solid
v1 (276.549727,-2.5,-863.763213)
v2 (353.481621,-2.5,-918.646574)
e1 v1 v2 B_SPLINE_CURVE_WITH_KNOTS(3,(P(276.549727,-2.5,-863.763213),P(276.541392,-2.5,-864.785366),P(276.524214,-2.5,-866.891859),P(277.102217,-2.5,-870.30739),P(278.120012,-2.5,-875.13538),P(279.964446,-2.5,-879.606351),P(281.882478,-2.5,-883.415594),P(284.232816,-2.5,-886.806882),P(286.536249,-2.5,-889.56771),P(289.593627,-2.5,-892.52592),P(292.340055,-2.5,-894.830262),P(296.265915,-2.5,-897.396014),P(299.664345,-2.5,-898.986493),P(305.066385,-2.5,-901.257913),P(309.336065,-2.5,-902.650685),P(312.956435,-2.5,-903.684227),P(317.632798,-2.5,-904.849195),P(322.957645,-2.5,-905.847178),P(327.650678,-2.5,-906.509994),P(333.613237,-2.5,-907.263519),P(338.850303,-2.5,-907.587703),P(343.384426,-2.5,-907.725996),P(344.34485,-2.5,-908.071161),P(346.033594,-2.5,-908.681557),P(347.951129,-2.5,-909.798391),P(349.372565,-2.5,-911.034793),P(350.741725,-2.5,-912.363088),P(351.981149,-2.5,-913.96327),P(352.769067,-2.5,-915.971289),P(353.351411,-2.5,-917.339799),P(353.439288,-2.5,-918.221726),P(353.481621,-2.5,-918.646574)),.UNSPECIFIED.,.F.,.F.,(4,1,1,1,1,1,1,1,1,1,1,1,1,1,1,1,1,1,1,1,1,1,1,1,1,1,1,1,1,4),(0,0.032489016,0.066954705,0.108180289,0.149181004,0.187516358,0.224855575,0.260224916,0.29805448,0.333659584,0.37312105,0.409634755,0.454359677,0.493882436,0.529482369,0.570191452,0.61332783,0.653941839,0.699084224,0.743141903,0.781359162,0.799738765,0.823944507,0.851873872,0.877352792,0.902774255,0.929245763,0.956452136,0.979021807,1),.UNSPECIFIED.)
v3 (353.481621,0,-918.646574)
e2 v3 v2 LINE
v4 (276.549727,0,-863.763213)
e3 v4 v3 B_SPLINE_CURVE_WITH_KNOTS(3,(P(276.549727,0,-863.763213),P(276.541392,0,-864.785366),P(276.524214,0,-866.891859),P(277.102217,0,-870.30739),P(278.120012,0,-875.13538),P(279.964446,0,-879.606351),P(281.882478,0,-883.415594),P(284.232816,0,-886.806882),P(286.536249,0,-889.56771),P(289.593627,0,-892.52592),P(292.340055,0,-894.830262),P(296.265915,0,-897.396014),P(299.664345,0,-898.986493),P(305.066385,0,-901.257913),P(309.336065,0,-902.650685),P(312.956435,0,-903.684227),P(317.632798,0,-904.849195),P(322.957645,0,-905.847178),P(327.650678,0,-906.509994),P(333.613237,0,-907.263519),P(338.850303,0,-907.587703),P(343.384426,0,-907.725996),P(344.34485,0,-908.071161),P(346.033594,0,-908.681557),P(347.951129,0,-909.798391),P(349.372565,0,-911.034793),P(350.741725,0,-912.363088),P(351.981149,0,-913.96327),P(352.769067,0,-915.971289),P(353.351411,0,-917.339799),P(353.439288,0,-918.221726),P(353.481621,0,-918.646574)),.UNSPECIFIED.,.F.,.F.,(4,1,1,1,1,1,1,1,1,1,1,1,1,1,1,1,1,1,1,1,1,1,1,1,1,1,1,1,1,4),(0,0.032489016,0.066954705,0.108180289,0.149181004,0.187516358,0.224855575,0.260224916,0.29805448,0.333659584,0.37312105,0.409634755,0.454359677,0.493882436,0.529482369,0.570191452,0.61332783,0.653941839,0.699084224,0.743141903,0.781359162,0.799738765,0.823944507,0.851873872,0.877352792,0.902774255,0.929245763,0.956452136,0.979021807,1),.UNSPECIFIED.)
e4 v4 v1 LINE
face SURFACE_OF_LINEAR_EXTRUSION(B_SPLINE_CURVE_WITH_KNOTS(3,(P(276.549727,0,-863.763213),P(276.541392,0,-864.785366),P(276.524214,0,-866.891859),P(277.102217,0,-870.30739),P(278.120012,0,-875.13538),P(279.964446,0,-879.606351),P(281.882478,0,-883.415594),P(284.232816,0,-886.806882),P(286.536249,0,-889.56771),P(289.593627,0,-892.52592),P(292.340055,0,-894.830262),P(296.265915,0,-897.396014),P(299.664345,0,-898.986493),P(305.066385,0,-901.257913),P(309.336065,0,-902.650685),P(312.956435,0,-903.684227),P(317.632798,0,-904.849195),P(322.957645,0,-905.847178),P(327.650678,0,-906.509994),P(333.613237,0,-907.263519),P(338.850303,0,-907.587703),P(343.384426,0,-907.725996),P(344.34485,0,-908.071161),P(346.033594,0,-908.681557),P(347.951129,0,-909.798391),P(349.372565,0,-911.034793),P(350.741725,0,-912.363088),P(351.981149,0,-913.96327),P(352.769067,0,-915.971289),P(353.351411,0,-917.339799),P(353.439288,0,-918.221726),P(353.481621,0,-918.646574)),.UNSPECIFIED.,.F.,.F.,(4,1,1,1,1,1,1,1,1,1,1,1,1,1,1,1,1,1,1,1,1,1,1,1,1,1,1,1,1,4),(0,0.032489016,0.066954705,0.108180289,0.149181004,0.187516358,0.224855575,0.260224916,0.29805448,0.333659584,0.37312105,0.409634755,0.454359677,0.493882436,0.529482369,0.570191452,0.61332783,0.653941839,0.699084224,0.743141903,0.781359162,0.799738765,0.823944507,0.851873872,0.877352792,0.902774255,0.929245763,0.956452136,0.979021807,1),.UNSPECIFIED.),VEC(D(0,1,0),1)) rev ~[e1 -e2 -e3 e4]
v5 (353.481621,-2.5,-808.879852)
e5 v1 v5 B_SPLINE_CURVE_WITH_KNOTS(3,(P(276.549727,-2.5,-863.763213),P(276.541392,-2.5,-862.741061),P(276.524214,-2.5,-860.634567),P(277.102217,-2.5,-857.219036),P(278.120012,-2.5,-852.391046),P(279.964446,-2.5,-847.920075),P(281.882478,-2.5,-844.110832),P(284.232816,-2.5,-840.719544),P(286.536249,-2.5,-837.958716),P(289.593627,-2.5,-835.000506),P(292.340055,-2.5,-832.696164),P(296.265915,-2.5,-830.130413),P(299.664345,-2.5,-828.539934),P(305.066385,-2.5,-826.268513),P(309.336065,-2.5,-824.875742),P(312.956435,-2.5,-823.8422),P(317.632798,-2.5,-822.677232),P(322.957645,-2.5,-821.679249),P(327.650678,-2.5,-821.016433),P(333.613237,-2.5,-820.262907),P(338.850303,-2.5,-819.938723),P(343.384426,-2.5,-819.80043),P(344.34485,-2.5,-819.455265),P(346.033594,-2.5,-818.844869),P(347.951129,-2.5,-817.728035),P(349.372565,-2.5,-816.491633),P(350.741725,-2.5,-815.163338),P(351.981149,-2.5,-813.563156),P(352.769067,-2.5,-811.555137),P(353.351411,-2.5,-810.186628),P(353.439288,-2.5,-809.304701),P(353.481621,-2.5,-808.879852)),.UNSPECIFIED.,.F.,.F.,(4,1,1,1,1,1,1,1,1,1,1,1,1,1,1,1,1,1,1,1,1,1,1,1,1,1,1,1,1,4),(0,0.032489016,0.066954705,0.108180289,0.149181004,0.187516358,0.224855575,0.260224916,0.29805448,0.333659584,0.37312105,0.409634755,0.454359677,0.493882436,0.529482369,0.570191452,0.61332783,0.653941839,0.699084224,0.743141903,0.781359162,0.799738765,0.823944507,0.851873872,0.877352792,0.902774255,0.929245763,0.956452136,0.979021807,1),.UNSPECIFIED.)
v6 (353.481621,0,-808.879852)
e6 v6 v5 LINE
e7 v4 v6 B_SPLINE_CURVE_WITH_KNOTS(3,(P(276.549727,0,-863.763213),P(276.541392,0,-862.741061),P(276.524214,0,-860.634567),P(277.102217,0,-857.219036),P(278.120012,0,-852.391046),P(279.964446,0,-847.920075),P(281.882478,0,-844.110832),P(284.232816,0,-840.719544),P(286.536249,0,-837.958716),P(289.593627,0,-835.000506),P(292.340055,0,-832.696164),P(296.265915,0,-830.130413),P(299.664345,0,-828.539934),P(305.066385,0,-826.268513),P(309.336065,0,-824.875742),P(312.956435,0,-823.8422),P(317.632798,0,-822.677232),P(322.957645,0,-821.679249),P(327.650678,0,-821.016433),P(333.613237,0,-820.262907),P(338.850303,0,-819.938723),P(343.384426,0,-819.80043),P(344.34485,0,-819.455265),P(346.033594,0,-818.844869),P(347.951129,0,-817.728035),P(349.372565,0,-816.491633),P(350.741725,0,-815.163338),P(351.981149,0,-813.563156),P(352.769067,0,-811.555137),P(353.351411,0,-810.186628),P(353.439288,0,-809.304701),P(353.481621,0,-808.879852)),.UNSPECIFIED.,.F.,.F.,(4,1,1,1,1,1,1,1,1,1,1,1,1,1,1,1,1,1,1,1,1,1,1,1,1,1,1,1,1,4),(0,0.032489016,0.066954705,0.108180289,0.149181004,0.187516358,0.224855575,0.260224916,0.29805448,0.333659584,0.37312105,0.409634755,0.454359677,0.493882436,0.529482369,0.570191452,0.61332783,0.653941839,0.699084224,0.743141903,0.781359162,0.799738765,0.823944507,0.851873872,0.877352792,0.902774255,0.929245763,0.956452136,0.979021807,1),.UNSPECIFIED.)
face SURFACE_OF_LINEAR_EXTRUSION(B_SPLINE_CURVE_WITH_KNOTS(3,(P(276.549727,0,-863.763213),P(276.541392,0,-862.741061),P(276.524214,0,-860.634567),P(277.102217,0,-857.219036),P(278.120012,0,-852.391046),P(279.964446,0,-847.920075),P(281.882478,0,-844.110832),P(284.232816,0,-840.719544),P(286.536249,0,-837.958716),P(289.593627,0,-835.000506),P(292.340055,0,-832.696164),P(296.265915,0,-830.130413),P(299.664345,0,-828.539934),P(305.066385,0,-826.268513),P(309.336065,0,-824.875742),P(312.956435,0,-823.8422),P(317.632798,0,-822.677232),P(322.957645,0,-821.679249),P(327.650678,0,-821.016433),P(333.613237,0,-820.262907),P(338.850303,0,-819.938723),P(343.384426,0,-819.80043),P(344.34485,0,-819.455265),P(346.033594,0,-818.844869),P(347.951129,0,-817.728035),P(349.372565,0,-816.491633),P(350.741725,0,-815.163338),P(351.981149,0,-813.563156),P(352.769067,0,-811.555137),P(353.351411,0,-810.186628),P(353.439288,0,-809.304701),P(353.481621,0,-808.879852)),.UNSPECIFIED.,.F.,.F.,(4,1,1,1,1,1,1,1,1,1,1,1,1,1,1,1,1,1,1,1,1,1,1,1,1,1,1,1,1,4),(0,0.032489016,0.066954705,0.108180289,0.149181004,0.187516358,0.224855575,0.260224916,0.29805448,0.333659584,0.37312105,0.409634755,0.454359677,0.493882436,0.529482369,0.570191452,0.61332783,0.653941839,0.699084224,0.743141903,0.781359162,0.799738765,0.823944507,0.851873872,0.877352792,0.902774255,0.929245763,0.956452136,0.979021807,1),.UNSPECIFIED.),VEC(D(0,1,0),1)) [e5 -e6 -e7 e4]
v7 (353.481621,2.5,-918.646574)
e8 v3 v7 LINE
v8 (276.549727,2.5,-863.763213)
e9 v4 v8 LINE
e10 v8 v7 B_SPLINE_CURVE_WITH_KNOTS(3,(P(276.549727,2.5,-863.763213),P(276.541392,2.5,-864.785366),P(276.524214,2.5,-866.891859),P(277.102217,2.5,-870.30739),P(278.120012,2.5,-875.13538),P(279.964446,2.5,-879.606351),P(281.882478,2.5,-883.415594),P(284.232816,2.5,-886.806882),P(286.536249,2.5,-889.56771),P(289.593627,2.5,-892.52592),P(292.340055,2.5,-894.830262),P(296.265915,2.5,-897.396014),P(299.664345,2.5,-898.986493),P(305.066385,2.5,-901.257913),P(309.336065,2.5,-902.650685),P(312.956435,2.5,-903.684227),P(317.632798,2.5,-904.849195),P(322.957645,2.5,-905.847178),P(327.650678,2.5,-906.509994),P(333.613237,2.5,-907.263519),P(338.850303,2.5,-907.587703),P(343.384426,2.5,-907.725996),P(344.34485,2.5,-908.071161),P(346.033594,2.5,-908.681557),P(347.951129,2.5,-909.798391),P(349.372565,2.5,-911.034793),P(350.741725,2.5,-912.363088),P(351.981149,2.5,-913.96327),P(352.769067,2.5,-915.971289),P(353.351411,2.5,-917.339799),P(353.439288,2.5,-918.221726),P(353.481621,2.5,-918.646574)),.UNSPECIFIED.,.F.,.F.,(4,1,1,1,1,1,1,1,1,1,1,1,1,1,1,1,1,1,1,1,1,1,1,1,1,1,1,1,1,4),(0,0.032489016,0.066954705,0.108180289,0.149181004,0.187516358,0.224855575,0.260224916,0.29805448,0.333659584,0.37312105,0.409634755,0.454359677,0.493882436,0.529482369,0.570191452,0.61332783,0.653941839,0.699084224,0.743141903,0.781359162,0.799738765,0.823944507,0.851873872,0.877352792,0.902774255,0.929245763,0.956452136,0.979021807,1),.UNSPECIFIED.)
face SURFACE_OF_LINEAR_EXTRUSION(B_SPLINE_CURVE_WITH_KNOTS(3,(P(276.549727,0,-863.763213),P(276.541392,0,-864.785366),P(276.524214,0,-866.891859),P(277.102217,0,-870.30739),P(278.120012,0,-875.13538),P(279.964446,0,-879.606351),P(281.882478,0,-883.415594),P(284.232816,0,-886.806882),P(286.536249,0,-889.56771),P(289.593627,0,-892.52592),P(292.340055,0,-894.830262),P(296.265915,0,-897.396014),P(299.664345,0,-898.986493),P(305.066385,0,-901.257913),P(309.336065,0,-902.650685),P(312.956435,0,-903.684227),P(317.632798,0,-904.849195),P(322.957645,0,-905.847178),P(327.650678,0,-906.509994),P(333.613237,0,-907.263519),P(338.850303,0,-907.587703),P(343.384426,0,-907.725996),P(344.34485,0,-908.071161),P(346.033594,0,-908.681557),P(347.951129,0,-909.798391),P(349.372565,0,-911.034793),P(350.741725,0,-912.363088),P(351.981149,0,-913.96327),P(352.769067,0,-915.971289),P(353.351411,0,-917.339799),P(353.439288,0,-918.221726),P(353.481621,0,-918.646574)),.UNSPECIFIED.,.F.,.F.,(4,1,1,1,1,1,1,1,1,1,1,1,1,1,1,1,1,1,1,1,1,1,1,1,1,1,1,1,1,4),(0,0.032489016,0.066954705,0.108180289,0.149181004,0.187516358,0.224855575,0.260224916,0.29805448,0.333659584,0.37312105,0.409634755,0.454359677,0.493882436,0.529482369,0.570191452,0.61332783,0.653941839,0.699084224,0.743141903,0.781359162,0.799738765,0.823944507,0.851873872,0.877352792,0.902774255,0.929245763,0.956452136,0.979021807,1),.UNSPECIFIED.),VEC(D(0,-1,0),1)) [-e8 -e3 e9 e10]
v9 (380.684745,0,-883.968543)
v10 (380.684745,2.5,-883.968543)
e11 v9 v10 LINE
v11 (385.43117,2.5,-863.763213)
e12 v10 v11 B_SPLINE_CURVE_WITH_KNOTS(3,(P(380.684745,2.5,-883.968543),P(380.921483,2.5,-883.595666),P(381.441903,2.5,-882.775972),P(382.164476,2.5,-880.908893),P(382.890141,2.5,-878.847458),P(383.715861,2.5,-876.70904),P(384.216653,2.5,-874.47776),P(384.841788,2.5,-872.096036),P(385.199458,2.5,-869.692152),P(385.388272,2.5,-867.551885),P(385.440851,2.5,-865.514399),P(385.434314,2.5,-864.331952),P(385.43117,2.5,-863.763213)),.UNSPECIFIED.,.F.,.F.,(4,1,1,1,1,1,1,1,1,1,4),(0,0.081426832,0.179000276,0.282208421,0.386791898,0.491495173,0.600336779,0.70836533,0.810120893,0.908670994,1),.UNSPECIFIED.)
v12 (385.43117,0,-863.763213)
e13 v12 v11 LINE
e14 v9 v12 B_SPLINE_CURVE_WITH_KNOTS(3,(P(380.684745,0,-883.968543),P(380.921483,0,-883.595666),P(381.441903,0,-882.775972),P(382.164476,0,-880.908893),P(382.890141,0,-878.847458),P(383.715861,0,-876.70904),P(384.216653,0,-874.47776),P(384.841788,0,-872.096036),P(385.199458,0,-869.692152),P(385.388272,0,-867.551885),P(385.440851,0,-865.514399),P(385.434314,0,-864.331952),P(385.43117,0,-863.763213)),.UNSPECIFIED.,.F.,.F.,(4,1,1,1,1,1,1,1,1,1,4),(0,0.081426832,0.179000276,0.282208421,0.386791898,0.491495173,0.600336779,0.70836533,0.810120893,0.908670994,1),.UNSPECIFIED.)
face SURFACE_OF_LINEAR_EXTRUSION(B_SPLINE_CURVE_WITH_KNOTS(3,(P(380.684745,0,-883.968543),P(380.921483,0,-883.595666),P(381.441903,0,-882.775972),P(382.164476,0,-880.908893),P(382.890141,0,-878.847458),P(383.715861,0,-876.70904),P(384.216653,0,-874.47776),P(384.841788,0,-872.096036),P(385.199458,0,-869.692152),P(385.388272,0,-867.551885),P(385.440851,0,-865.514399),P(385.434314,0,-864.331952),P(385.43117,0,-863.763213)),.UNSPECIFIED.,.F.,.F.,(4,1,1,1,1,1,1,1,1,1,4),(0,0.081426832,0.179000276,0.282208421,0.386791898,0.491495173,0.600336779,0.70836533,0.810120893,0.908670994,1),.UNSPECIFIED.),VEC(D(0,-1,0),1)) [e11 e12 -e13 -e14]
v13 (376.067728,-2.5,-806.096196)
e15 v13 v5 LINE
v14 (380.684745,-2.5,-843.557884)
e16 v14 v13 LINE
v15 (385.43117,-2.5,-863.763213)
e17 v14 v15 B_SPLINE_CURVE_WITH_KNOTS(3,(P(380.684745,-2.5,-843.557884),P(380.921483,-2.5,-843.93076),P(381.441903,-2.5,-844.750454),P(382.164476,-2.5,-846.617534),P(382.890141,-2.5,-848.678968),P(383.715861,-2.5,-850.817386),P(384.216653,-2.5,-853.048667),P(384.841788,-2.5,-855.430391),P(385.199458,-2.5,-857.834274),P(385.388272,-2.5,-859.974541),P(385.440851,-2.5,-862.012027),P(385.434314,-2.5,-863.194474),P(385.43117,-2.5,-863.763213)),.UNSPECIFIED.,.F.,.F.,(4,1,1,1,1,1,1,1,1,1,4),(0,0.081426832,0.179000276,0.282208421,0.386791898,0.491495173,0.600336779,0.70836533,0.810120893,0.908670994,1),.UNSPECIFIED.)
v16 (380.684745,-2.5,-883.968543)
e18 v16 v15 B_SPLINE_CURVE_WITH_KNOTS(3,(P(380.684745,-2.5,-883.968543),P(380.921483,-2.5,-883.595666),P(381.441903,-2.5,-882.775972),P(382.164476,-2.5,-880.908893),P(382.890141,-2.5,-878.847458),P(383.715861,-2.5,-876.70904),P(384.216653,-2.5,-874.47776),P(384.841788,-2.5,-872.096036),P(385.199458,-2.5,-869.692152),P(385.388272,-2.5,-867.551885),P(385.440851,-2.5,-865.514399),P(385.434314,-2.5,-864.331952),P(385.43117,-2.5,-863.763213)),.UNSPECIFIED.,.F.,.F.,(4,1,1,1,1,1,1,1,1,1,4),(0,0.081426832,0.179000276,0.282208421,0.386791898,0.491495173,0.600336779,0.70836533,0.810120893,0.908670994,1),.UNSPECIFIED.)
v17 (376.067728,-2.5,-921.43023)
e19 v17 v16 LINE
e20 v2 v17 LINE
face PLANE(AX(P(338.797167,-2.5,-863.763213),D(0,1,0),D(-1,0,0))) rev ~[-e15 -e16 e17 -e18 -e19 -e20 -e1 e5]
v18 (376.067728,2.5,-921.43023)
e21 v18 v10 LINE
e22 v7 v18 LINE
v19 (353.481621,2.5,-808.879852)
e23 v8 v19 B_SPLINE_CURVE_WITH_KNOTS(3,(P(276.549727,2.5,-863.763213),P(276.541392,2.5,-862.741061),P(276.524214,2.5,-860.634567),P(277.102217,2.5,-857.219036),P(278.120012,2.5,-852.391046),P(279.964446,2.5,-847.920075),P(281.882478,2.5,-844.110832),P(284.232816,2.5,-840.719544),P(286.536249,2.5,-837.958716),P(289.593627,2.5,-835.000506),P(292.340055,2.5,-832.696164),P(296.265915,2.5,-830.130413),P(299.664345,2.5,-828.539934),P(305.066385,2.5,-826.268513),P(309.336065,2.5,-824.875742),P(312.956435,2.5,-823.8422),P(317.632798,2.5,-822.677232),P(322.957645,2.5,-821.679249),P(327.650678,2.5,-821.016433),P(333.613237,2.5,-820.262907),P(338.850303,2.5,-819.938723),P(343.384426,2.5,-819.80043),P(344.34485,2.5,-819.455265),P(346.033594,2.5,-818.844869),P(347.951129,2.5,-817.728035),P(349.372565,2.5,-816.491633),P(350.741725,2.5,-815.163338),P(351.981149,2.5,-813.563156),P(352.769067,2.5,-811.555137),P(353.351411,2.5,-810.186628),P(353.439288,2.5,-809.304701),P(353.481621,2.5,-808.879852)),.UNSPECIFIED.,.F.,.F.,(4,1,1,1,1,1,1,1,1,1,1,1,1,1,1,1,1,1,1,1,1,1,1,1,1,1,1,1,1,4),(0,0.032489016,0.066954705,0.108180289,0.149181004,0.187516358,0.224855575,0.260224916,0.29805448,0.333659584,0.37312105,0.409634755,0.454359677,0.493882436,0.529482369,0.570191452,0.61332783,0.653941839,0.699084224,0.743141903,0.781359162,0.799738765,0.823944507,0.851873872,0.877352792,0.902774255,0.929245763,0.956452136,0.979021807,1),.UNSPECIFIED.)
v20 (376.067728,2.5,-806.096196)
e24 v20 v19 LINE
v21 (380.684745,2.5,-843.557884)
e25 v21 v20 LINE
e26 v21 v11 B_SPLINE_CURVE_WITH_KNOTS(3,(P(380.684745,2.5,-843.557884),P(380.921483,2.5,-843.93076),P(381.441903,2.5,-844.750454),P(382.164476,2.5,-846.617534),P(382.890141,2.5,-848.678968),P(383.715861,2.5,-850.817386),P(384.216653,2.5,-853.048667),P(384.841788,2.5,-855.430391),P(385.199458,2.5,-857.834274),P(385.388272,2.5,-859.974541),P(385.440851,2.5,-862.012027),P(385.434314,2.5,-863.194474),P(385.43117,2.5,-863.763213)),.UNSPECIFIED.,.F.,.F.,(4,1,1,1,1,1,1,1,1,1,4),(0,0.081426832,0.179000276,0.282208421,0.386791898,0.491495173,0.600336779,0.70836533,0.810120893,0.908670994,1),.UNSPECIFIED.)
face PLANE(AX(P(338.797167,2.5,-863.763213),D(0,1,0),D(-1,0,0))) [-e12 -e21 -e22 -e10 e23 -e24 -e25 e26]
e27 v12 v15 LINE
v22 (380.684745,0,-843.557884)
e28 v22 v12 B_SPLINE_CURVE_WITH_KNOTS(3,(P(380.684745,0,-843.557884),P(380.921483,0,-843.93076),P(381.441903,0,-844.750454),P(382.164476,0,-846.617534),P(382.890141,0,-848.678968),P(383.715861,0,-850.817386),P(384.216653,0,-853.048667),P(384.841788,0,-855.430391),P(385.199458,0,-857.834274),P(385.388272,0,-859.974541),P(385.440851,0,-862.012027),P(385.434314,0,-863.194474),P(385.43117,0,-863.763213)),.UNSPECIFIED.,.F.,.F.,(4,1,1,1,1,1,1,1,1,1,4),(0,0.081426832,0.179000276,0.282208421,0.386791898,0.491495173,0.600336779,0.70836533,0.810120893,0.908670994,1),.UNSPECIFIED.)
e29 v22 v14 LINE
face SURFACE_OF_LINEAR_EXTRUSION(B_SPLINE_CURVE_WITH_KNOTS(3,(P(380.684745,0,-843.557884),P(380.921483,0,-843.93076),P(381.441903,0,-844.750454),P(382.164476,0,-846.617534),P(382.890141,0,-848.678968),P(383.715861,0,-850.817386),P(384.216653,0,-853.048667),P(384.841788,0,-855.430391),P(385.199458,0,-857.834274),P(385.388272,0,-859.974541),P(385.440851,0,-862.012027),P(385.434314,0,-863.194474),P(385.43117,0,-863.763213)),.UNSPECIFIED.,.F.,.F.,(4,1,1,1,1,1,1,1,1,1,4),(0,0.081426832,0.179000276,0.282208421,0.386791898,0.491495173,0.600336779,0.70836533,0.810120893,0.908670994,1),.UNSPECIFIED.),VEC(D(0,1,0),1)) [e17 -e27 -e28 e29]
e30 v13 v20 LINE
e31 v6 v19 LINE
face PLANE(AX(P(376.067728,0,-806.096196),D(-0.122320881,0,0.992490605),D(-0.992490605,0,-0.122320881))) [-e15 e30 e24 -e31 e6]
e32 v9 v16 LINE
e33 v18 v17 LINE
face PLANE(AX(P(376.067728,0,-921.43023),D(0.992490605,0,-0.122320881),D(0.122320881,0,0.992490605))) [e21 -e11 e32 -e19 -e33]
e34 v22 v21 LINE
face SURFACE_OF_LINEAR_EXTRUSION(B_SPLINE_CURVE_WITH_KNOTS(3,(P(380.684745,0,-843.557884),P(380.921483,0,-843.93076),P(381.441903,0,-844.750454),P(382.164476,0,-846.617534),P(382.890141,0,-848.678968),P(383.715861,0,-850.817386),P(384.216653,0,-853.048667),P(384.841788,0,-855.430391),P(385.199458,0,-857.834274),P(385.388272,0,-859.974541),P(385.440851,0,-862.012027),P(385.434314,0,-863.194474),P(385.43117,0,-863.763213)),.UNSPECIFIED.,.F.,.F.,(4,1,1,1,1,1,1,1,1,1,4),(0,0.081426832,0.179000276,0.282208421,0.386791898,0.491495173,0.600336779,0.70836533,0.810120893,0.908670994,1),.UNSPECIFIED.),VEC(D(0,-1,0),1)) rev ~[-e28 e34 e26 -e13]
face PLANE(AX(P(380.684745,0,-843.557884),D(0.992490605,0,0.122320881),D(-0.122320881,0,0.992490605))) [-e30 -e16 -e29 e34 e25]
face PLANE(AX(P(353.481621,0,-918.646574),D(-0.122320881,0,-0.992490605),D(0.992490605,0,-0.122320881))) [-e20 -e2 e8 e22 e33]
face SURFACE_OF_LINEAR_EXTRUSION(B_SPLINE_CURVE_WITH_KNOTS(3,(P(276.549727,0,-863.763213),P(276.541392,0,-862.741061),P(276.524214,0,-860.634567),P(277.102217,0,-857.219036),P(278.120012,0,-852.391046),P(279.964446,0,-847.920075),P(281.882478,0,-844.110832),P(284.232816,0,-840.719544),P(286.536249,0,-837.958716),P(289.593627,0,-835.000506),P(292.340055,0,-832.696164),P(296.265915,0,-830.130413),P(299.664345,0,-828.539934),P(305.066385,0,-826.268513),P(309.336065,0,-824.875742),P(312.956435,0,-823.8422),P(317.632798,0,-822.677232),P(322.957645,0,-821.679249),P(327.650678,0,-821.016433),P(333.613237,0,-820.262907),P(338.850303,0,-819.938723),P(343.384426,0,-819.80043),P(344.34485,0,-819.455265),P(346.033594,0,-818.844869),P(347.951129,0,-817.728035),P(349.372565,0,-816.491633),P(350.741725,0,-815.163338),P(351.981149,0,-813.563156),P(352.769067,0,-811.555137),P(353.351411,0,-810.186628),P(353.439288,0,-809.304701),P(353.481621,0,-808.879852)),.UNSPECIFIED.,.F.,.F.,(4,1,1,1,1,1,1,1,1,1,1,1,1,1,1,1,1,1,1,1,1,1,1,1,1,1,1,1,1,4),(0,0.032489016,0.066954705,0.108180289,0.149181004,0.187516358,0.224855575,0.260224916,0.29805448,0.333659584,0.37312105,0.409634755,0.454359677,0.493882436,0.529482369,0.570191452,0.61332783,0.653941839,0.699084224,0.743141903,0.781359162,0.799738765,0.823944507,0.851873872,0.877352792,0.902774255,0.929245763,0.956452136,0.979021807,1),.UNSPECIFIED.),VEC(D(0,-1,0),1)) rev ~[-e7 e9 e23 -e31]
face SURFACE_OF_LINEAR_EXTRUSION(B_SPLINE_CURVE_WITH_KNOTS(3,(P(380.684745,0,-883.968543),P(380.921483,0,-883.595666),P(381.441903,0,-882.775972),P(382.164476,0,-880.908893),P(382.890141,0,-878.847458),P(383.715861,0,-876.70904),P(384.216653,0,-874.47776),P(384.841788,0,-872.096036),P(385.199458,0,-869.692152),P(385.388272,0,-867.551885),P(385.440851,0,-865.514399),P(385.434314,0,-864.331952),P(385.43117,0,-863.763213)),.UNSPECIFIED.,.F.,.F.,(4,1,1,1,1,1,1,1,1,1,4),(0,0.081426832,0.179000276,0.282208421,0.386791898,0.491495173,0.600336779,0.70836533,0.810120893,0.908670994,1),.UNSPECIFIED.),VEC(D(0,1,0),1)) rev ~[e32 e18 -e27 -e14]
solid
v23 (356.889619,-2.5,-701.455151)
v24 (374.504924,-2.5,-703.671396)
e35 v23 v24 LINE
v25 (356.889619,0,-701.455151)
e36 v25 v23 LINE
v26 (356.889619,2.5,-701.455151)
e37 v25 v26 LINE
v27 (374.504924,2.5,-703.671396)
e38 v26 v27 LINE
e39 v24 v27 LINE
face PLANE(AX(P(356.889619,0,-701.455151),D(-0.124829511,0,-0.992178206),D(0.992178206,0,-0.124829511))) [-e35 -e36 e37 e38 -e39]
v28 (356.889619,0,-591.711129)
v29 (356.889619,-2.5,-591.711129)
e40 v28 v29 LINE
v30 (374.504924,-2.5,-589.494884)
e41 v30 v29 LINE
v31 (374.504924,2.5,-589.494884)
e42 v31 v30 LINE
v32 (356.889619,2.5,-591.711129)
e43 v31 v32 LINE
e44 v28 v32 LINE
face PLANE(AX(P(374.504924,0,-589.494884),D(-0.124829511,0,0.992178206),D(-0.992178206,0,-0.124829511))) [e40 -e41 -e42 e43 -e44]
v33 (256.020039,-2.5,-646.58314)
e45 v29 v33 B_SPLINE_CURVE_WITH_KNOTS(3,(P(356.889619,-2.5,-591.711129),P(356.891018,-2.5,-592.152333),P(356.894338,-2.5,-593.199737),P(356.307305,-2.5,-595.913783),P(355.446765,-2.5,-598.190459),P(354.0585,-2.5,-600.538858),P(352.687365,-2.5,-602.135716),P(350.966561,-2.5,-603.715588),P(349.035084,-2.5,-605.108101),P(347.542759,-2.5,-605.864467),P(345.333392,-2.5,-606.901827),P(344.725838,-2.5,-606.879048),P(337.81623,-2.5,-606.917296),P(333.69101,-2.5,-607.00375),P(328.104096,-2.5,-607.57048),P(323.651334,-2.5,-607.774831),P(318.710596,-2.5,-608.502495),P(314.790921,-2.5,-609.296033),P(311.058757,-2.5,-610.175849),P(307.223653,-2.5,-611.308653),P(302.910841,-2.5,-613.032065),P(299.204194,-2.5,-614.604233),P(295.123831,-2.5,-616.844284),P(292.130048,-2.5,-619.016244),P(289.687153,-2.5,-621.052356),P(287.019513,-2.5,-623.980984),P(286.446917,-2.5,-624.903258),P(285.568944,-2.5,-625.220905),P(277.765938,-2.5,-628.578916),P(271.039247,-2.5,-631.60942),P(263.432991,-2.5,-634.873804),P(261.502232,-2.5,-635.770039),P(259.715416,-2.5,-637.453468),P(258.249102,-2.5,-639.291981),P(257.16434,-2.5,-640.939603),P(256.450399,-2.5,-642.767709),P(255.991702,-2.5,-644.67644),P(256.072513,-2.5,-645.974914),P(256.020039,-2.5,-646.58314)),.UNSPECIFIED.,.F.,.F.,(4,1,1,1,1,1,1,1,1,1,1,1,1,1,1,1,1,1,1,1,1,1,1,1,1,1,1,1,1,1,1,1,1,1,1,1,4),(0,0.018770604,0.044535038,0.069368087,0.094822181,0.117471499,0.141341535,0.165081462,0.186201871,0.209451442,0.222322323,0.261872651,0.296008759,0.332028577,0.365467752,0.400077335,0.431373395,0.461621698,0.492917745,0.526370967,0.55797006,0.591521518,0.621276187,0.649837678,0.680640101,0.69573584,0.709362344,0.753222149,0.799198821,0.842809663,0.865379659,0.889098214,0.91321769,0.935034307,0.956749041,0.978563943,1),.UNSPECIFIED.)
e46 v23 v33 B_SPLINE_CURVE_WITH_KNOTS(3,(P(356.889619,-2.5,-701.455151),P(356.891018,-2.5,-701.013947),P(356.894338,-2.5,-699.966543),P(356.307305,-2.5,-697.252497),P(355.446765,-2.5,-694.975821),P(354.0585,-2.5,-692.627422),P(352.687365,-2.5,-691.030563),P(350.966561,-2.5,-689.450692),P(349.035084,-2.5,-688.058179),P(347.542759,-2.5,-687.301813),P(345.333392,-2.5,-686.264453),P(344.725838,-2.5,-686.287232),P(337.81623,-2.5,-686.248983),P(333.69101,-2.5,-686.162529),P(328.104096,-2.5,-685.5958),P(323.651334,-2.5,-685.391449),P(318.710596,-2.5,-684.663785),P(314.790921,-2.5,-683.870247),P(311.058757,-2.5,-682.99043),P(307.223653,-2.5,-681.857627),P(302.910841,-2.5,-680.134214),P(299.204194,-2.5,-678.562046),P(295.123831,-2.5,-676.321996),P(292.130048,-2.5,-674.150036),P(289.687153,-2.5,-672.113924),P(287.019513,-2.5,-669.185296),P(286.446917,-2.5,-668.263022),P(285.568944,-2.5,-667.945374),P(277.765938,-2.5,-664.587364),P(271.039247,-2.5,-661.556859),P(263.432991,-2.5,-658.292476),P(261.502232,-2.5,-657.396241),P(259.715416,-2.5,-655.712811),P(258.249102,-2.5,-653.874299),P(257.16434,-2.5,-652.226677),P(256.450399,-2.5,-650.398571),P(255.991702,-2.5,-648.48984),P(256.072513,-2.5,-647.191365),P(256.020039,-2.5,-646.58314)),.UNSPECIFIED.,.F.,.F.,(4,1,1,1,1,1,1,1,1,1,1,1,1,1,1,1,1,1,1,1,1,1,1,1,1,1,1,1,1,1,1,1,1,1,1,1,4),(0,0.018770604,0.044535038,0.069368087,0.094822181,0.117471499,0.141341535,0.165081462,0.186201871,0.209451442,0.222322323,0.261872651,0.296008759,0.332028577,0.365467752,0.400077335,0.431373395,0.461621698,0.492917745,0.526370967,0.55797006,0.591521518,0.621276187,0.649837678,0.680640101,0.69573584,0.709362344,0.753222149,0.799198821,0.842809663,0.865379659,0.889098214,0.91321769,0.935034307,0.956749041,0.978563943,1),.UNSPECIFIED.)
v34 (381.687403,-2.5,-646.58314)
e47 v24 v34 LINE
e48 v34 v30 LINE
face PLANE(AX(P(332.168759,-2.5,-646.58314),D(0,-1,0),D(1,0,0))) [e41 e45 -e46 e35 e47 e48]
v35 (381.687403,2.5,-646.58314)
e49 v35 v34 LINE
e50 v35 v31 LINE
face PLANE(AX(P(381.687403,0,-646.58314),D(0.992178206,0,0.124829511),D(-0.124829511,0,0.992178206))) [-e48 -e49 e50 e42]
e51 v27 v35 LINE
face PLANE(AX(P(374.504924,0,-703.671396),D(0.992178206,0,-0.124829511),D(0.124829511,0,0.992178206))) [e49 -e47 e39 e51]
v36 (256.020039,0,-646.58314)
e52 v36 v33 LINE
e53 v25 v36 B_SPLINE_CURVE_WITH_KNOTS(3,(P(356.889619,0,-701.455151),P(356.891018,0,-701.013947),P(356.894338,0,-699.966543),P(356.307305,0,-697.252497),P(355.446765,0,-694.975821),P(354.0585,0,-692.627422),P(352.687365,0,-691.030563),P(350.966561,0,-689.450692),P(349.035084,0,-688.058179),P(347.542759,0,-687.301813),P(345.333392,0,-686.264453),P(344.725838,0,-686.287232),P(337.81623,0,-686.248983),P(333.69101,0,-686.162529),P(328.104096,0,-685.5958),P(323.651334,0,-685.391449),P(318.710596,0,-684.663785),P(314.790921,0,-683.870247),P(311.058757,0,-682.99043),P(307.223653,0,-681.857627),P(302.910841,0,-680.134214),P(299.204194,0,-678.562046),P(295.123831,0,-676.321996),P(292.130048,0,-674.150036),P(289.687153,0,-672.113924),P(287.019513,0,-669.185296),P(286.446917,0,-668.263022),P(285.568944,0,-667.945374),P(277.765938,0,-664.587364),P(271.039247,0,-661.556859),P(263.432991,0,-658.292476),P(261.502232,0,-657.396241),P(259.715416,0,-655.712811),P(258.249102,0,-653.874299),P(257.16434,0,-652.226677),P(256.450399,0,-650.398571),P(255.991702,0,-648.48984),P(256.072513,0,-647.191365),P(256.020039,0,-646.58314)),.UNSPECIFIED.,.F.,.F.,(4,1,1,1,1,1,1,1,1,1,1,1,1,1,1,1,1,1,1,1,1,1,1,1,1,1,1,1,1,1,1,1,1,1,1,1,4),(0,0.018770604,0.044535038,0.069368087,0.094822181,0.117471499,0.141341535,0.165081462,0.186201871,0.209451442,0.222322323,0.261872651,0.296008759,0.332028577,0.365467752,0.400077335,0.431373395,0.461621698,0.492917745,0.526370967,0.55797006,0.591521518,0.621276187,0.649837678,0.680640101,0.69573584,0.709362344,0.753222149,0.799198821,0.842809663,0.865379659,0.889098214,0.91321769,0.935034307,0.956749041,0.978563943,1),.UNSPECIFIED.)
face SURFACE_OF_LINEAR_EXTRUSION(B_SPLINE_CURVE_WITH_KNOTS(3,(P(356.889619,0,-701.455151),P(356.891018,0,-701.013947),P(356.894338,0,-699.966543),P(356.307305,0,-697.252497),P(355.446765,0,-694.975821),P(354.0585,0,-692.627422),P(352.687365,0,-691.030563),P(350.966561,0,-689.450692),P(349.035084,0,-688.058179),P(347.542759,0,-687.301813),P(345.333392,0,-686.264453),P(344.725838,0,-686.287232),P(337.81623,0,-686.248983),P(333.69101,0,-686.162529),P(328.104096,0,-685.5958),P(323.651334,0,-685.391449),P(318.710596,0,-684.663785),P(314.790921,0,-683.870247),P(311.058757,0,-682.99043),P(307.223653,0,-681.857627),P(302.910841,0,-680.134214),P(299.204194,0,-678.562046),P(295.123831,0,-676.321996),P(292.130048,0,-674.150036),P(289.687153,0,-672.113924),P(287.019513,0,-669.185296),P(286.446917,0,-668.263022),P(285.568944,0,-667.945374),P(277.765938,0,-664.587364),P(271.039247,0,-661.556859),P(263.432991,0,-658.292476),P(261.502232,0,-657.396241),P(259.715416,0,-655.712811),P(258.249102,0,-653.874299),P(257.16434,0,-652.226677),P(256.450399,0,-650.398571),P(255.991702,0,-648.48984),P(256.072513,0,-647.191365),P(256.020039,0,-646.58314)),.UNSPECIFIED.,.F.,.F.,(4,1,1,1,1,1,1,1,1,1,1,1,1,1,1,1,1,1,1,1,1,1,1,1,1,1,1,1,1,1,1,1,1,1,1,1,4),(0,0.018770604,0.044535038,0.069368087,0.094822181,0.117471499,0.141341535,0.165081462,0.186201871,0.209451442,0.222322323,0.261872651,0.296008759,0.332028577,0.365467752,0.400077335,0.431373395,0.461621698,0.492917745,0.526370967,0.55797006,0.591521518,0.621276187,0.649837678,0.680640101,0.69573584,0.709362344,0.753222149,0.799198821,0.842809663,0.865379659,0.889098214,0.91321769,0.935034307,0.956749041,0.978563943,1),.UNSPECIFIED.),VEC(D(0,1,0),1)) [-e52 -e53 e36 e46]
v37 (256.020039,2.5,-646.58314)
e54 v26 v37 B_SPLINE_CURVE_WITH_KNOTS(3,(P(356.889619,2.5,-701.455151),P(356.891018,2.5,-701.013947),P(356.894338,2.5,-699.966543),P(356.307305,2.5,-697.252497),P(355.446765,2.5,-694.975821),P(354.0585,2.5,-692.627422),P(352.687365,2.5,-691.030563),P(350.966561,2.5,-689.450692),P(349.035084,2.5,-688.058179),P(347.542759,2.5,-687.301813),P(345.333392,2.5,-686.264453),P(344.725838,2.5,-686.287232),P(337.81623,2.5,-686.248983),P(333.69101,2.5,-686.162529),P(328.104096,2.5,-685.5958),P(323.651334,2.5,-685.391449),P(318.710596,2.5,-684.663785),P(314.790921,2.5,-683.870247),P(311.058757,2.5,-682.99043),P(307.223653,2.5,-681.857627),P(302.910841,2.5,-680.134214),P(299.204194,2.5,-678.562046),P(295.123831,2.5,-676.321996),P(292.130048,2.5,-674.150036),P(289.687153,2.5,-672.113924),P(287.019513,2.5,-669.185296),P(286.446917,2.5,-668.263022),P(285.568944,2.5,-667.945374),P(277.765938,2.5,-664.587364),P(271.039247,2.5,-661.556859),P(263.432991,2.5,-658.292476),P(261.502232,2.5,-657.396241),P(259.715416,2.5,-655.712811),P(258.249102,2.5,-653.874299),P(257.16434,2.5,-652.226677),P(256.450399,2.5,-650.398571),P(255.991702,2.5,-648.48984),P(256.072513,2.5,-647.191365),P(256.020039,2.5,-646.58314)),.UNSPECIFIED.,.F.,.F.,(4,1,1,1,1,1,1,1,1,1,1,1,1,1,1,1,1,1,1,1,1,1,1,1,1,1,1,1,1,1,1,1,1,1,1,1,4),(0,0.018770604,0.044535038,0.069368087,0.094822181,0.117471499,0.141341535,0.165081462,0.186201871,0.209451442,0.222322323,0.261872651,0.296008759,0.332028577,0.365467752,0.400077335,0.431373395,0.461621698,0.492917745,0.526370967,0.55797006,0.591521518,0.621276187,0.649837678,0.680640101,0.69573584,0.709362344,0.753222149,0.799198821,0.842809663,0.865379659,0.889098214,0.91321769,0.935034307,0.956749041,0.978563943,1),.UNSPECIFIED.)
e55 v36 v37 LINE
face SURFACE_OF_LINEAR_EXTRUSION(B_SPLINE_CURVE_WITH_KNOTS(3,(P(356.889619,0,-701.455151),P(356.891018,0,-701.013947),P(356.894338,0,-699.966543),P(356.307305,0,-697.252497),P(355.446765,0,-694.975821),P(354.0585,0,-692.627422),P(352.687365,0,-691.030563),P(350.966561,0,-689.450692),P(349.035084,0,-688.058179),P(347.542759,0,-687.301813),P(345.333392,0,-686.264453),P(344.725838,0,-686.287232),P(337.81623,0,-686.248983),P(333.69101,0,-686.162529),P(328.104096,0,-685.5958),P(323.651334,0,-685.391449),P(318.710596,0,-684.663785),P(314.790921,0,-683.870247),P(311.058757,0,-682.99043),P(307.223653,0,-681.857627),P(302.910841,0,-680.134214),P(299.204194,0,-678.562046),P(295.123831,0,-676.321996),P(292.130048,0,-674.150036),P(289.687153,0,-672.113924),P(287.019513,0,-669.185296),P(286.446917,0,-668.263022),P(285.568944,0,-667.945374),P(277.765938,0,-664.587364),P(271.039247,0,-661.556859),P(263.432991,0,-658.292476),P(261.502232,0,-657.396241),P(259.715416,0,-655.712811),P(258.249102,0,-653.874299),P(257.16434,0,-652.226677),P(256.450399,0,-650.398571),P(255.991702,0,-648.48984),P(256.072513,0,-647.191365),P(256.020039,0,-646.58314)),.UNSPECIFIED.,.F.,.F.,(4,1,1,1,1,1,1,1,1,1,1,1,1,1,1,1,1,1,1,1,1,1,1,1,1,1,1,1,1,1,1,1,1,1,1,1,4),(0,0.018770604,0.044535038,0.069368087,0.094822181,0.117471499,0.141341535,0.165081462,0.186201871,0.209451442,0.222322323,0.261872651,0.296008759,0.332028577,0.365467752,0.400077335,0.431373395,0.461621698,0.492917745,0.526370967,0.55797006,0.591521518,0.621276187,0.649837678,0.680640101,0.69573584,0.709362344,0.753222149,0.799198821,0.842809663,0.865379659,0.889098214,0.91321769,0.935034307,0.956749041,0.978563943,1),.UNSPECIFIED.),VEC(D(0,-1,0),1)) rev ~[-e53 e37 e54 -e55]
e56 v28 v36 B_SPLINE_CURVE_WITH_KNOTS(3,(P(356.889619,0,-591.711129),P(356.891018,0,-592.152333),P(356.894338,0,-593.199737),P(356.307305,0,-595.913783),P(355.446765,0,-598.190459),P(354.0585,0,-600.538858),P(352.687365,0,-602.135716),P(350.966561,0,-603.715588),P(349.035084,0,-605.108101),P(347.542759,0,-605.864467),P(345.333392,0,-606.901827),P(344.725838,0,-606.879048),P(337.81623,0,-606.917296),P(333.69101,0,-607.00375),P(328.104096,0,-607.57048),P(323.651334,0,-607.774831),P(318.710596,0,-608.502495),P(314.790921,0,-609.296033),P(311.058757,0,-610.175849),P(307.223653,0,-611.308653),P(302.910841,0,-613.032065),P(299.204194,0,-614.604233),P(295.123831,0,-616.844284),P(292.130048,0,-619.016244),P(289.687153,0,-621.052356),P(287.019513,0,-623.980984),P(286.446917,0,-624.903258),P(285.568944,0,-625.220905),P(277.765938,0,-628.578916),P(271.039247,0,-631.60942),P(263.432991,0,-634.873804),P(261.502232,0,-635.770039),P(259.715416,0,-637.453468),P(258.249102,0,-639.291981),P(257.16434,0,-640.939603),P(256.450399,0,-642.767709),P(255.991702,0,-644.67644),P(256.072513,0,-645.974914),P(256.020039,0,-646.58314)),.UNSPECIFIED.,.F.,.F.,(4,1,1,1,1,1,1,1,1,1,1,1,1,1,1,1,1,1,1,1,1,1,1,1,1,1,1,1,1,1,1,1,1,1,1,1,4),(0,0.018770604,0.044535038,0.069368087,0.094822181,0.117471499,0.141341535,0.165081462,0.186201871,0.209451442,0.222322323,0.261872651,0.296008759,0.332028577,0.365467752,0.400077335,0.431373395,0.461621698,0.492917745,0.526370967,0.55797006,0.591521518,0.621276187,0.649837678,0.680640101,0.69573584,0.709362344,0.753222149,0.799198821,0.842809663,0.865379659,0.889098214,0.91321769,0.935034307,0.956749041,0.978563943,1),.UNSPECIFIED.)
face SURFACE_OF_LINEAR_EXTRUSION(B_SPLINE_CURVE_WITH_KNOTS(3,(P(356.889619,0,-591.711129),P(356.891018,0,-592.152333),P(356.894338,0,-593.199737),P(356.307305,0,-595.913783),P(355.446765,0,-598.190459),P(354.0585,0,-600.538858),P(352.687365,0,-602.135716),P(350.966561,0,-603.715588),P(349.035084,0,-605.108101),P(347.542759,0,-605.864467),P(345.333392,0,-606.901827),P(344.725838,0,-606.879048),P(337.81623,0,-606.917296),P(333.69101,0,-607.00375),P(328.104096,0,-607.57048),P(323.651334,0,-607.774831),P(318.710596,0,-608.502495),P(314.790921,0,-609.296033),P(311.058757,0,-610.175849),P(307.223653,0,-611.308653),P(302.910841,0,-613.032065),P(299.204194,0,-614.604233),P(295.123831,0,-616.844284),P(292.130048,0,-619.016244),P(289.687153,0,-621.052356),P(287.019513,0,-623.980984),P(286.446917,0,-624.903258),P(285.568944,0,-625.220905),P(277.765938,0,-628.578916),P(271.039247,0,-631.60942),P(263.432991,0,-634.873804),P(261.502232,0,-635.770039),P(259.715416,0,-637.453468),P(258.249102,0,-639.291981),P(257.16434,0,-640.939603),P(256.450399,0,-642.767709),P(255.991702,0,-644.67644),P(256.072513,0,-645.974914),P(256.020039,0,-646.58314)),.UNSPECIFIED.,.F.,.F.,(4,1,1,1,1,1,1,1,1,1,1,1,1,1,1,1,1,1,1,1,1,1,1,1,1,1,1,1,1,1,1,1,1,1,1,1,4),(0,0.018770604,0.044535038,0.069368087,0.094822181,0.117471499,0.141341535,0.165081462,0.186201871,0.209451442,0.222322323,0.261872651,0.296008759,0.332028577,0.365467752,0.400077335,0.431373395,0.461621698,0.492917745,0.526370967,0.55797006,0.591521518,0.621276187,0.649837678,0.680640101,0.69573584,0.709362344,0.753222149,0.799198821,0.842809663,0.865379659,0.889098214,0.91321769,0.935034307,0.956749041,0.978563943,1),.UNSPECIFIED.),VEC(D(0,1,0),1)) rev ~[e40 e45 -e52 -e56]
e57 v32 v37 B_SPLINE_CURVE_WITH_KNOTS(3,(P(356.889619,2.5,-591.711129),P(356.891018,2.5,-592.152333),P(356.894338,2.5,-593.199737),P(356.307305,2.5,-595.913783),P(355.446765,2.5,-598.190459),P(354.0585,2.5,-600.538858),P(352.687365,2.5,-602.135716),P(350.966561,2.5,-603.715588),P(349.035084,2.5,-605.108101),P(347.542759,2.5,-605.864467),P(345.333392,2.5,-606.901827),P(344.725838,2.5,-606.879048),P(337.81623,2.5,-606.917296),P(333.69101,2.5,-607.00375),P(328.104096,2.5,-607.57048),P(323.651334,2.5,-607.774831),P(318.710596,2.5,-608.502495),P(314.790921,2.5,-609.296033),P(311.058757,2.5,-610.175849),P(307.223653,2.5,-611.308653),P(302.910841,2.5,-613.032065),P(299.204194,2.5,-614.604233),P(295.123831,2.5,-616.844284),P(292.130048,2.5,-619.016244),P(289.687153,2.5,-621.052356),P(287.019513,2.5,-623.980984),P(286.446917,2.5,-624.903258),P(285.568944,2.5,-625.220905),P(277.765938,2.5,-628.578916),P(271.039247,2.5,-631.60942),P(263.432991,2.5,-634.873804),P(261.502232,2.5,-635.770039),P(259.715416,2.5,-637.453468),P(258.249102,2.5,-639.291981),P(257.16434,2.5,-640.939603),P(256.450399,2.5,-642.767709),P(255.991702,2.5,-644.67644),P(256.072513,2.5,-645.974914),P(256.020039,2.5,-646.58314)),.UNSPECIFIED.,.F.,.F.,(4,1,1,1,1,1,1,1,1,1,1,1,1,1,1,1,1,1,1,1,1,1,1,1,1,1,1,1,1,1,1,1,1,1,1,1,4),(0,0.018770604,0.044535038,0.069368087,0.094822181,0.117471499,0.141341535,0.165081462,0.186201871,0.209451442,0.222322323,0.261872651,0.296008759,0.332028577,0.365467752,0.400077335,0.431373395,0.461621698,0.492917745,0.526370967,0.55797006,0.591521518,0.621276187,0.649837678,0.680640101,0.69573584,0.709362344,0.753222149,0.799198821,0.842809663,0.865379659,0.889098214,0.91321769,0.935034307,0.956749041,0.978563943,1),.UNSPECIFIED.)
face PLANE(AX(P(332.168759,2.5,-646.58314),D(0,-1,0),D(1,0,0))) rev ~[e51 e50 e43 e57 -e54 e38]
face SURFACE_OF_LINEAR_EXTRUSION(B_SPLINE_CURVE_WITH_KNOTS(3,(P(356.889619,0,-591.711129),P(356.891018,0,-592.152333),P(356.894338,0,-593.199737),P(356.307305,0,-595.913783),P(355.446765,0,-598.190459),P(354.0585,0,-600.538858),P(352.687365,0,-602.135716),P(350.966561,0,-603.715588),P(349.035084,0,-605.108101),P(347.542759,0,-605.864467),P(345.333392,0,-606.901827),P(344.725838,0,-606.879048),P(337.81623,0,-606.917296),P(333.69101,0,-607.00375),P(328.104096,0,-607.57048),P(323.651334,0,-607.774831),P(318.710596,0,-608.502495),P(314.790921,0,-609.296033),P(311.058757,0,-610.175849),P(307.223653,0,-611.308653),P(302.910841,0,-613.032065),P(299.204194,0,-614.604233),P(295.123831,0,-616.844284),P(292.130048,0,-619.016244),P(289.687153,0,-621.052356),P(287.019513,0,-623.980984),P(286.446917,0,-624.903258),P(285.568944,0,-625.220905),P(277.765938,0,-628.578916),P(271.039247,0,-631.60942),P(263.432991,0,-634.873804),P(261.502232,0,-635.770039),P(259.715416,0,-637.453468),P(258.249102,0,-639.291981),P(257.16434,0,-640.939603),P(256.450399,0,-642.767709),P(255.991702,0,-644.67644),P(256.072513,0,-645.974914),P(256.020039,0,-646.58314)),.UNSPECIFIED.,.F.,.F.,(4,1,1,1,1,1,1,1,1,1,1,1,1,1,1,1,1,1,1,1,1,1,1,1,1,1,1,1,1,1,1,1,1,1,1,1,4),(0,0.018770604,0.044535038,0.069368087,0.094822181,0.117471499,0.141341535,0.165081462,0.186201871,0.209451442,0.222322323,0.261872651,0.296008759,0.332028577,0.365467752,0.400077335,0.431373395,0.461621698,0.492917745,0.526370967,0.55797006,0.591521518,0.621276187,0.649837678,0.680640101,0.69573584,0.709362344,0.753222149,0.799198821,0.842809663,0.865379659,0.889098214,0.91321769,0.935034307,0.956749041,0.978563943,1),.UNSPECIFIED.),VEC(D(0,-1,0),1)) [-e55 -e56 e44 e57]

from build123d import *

# Parameters (mm, degrees)
F2_DEPTH = 2.5
F3_DEPTH = 2.5


with BuildPart() as f2:
    # F0 (on Front) → F2 (new body, symmetric)
    with BuildSketch(Plane.XZ):
        with BuildLine():
            add(Edge.make_bspline(
                [(276.5497267246, -863.7632131577), (276.54139154, -862.7410607928), (276.5242140475, -860.634567015), (277.1022166285, -857.2190359459), (278.1200119972, -852.3910459093), (279.9644463626, -847.920075237), (281.882477521, -844.1108320488), (284.2328157013, -840.7195439415), (286.5362493086, -837.9587161599), (289.5936271103, -835.000506288), (292.3400546836, -832.6961641976), (296.2659145844, -830.130412678), (299.6643453171, -828.5399335469), (305.0663850146, -826.268512946), (309.3360646257, -824.8757416896), (312.9564352004, -823.8421996168), (317.6327984787, -822.6772317039), (322.9576447247, -821.6792486204), (327.6506784182, -821.0164327637), (333.6132370505, -820.2629074866), (338.8503029875, -819.9387231038), (343.3844263767, -819.8004298323), (344.3448504869, -819.4552650149), (346.0335944536, -818.8448689071), (347.9511294829, -817.7280349749), (349.3725650959, -816.4916329208), (350.7417247639, -815.1633378239), (351.9811492056, -813.5631564799), (352.7690672299, -811.5551372984), (353.3514105804, -810.1866277081), (353.4392877312, -809.3047006151), (353.4816205502, -808.8798522949)],
                knots=[0, 0, 0, 0, 0.0324890162, 0.0669547054, 0.1081802891, 0.1491810039, 0.1875163578, 0.2248555747, 0.2602249162, 0.2980544802, 0.3336595835, 0.3731210496, 0.4096347547, 0.4543596768, 0.4938824362, 0.5294823691, 0.5701914519, 0.6133278299, 0.6539418391, 0.6990842242, 0.7431419032, 0.781359162, 0.7997387654, 0.8239445073, 0.8518738715, 0.8773527921, 0.902774255, 0.9292457632, 0.9564521361, 0.979021807, 1, 1, 1, 1], degree=3))
            add(Edge.make_bspline(
                [(276.5497267246, -863.7632131577), (276.54139154, -864.7853655225), (276.5242140475, -866.8918593003), (277.1022166285, -870.3073903695), (278.1200119972, -875.135380406), (279.9644463626, -879.6063510783), (281.882477521, -883.4155942665), (284.2328157013, -886.8068823739), (286.5362493086, -889.5677101554), (289.5936271103, -892.5259200273), (292.3400546836, -894.8302621177), (296.2659145844, -897.3960136373), (299.6643453171, -898.9864927685), (305.0663850146, -901.2579133693), (309.3360646257, -902.6506846257), (312.9564352004, -903.6842266986), (317.6327984787, -904.8491946114), (322.9576447247, -905.8471776949), (327.6506784182, -906.5099935516), (333.6132370505, -907.2635188288), (338.8503029875, -907.5877032115), (343.3844263767, -907.725996483), (344.3448504869, -908.0711613004), (346.0335944536, -908.6815574082), (347.9511294829, -909.7983913404), (349.3725650959, -911.0347933945), (350.7417247639, -912.3630884914), (351.9811492056, -913.9632698354), (352.7690672299, -915.9712890169), (353.3514105804, -917.3397986072), (353.4392877312, -918.2217257003), (353.4816205502, -918.6465740204)],
                knots=[0, 0, 0, 0, 0.0324890162, 0.0669547054, 0.1081802891, 0.1491810039, 0.1875163578, 0.2248555747, 0.2602249162, 0.2980544802, 0.3336595835, 0.3731210496, 0.4096347547, 0.4543596768, 0.4938824362, 0.5294823691, 0.5701914519, 0.6133278299, 0.6539418391, 0.6990842242, 0.7431419032, 0.781359162, 0.7997387654, 0.8239445073, 0.8518738715, 0.8773527921, 0.902774255, 0.9292457632, 0.9564521361, 0.979021807, 1, 1, 1, 1], degree=3))
            Line((353.4816205502, -918.6465740204), (376.0677278042, -921.4302301407))
            Line((376.0677278042, -921.4302301407), (380.6847454311, -883.9685427737))
            add(Edge.make_bspline(
                [(380.6847454311, -883.9685427737), (380.9214832769, -883.5956659994), (381.4419031281, -882.7759724907), (382.1644757035, -880.9088927645), (382.8901405387, -878.8474582057), (383.7158613081, -876.7090404288), (384.2166534232, -874.4777597275), (384.8417878024, -872.0960355715), (385.1994576942, -869.6921520058), (385.3882722832, -867.5518849454), (385.4408510014, -865.5143988966), (385.4343144479, -864.3319522707), (385.4311704636, -863.7632131577)],
                knots=[0, 0, 0, 0, 0.0814268321, 0.1790002764, 0.2822084214, 0.3867918981, 0.4914951728, 0.6003367786, 0.7083653302, 0.8101208926, 0.9086709939, 1, 1, 1, 1], degree=3))
            add(Edge.make_bspline(
                [(380.6847454311, -843.5578835416), (380.9214832769, -843.930760316), (381.4419031281, -844.7504538246), (382.1644757035, -846.6175335508), (382.8901405387, -848.6789681096), (383.7158613081, -850.8173858866), (384.2166534232, -853.0486665878), (384.8417878024, -855.4303907438), (385.1994576942, -857.8342743095), (385.3882722832, -859.9745413699), (385.4408510014, -862.0120274187), (385.4343144479, -863.1944740446), (385.4311704636, -863.7632131577)],
                knots=[0, 0, 0, 0, 0.0814268321, 0.1790002764, 0.2822084214, 0.3867918981, 0.4914951728, 0.6003367786, 0.7083653302, 0.8101208926, 0.9086709939, 1, 1, 1, 1], degree=3))
            Line((380.6847454311, -843.5578835416), (376.0677278042, -806.0961961746))
            Line((376.0677278042, -806.0961961746), (353.4816205502, -808.8798522949))
        make_face()
    extrude(amount=F2_DEPTH, both=True)


with BuildPart() as f3:
    # F1 (on Front) → F3 (new body, symmetric)
    with BuildSketch(Plane.XZ):
        with BuildLine():
            Line((374.5049238205, -703.6713957787), (381.6874027252, -646.5831398964))
            Line((381.6874027252, -646.5831398964), (374.5049238205, -589.4948840141))
            Line((374.5049238205, -589.4948840141), (356.8896192521, -591.7111288706))
            add(Edge.make_bspline(
                [(356.8896192521, -591.7111288706), (356.8910177633, -592.1523325596), (356.8943377862, -593.1997366717), (356.3073050321, -595.9137830966), (355.4467654844, -598.1904591127), (354.0585001566, -600.5388582073), (352.6873645683, -602.135716309), (350.9665607975, -603.7155875422), (349.0350842805, -605.1081007643), (347.5427588661, -605.8644672065), (345.3333915642, -606.9018270012), (344.725838446, -606.8790475218), (337.8162304679, -606.9172964432), (333.6910101123, -607.003750362), (328.1040964297, -607.5704799414), (323.6513343785, -607.7748307014), (318.7105955425, -608.5024950112), (314.7909213134, -609.2960332607), (311.0587566112, -610.1758493543), (307.2236533503, -611.3086532279), (302.9108408394, -613.0320653716), (299.2041941793, -614.6042334051), (295.1238309374, -616.8442837476), (292.1300482064, -619.0162438487), (289.6871533773, -621.0523561811), (287.0195132429, -623.9809835501), (286.4469174267, -624.9032581264), (285.5689437601, -625.2209054184), (277.7659381818, -628.5789161222), (271.0392467124, -631.6094203453), (263.4329905418, -634.8738035347), (261.5022317441, -635.7700385299), (259.7154155104, -637.453468299), (258.2491019333, -639.2919805919), (257.1643397272, -640.9396026311), (256.450399475, -642.7677088753), (255.9917021612, -644.6764396633), (256.0725133173, -645.9749144154), (256.02003932, -646.5831398964)],
                knots=[0, 0, 0, 0, 0.0187706041, 0.0445350384, 0.0693680867, 0.0948221811, 0.117471499, 0.1413415351, 0.1650814617, 0.1862018706, 0.2094514417, 0.2223223226, 0.2618726508, 0.2960087594, 0.3320285773, 0.3654677524, 0.4000773346, 0.4313733955, 0.4616216981, 0.492917745, 0.5263709666, 0.5579700605, 0.5915215179, 0.6212761869, 0.6498376776, 0.6806401009, 0.6957358398, 0.7093623435, 0.7532221493, 0.799198821, 0.8428096635, 0.8653796588, 0.889098214, 0.9132176898, 0.9350343068, 0.9567490413, 0.9785639435, 1, 1, 1, 1], degree=3))
            add(Edge.make_bspline(
                [(356.8896192521, -701.4551509222), (356.8910177633, -701.0139472331), (356.8943377862, -699.966543121), (356.3073050321, -697.2524966962), (355.4467654844, -694.9758206801), (354.0585001566, -692.6274215855), (352.6873645683, -691.0305634838), (350.9665607975, -689.4506922506), (349.0350842805, -688.0581790285), (347.5427588661, -687.3018125863), (345.3333915642, -686.2644527916), (344.725838446, -686.287232271), (337.8162304679, -686.2489833495), (333.6910101123, -686.1625294308), (328.1040964297, -685.5957998513), (323.6513343785, -685.3914490914), (318.7105955425, -684.6637847816), (314.7909213134, -683.8702465321), (311.0587566112, -682.9904304384), (307.2236533503, -681.8576265648), (302.9108408394, -680.1342144212), (299.2041941793, -678.5620463877), (295.1238309374, -676.3219960452), (292.1300482064, -674.1500359441), (289.6871533773, -672.1139236117), (287.0195132429, -669.1852962426), (286.4469174267, -668.2630216664), (285.5689437601, -667.9453743743), (277.7659381818, -664.5873636706), (271.0392467124, -661.5568594475), (263.4329905418, -658.2924762581), (261.5022317441, -657.3962412629), (259.7154155104, -655.7128114938), (258.2491019333, -653.8742992009), (257.1643397272, -652.2266771617), (256.450399475, -650.3985709175), (255.9917021612, -648.4898401295), (256.0725133173, -647.1913653774), (256.02003932, -646.5831398964)],
                knots=[0, 0, 0, 0, 0.0187706041, 0.0445350384, 0.0693680867, 0.0948221811, 0.117471499, 0.1413415351, 0.1650814617, 0.1862018706, 0.2094514417, 0.2223223226, 0.2618726508, 0.2960087594, 0.3320285773, 0.3654677524, 0.4000773346, 0.4313733955, 0.4616216981, 0.492917745, 0.5263709666, 0.5579700605, 0.5915215179, 0.6212761869, 0.6498376776, 0.6806401009, 0.6957358398, 0.7093623435, 0.7532221493, 0.799198821, 0.8428096635, 0.8653796588, 0.889098214, 0.9132176898, 0.9350343068, 0.9567490413, 0.9785639435, 1, 1, 1, 1], degree=3))
            Line((356.8896192521, -701.4551509222), (374.5049238205, -703.6713957787))
        make_face()
    extrude(amount=F3_DEPTH, both=True)


solid = Compound([f2.part, f3.part])
